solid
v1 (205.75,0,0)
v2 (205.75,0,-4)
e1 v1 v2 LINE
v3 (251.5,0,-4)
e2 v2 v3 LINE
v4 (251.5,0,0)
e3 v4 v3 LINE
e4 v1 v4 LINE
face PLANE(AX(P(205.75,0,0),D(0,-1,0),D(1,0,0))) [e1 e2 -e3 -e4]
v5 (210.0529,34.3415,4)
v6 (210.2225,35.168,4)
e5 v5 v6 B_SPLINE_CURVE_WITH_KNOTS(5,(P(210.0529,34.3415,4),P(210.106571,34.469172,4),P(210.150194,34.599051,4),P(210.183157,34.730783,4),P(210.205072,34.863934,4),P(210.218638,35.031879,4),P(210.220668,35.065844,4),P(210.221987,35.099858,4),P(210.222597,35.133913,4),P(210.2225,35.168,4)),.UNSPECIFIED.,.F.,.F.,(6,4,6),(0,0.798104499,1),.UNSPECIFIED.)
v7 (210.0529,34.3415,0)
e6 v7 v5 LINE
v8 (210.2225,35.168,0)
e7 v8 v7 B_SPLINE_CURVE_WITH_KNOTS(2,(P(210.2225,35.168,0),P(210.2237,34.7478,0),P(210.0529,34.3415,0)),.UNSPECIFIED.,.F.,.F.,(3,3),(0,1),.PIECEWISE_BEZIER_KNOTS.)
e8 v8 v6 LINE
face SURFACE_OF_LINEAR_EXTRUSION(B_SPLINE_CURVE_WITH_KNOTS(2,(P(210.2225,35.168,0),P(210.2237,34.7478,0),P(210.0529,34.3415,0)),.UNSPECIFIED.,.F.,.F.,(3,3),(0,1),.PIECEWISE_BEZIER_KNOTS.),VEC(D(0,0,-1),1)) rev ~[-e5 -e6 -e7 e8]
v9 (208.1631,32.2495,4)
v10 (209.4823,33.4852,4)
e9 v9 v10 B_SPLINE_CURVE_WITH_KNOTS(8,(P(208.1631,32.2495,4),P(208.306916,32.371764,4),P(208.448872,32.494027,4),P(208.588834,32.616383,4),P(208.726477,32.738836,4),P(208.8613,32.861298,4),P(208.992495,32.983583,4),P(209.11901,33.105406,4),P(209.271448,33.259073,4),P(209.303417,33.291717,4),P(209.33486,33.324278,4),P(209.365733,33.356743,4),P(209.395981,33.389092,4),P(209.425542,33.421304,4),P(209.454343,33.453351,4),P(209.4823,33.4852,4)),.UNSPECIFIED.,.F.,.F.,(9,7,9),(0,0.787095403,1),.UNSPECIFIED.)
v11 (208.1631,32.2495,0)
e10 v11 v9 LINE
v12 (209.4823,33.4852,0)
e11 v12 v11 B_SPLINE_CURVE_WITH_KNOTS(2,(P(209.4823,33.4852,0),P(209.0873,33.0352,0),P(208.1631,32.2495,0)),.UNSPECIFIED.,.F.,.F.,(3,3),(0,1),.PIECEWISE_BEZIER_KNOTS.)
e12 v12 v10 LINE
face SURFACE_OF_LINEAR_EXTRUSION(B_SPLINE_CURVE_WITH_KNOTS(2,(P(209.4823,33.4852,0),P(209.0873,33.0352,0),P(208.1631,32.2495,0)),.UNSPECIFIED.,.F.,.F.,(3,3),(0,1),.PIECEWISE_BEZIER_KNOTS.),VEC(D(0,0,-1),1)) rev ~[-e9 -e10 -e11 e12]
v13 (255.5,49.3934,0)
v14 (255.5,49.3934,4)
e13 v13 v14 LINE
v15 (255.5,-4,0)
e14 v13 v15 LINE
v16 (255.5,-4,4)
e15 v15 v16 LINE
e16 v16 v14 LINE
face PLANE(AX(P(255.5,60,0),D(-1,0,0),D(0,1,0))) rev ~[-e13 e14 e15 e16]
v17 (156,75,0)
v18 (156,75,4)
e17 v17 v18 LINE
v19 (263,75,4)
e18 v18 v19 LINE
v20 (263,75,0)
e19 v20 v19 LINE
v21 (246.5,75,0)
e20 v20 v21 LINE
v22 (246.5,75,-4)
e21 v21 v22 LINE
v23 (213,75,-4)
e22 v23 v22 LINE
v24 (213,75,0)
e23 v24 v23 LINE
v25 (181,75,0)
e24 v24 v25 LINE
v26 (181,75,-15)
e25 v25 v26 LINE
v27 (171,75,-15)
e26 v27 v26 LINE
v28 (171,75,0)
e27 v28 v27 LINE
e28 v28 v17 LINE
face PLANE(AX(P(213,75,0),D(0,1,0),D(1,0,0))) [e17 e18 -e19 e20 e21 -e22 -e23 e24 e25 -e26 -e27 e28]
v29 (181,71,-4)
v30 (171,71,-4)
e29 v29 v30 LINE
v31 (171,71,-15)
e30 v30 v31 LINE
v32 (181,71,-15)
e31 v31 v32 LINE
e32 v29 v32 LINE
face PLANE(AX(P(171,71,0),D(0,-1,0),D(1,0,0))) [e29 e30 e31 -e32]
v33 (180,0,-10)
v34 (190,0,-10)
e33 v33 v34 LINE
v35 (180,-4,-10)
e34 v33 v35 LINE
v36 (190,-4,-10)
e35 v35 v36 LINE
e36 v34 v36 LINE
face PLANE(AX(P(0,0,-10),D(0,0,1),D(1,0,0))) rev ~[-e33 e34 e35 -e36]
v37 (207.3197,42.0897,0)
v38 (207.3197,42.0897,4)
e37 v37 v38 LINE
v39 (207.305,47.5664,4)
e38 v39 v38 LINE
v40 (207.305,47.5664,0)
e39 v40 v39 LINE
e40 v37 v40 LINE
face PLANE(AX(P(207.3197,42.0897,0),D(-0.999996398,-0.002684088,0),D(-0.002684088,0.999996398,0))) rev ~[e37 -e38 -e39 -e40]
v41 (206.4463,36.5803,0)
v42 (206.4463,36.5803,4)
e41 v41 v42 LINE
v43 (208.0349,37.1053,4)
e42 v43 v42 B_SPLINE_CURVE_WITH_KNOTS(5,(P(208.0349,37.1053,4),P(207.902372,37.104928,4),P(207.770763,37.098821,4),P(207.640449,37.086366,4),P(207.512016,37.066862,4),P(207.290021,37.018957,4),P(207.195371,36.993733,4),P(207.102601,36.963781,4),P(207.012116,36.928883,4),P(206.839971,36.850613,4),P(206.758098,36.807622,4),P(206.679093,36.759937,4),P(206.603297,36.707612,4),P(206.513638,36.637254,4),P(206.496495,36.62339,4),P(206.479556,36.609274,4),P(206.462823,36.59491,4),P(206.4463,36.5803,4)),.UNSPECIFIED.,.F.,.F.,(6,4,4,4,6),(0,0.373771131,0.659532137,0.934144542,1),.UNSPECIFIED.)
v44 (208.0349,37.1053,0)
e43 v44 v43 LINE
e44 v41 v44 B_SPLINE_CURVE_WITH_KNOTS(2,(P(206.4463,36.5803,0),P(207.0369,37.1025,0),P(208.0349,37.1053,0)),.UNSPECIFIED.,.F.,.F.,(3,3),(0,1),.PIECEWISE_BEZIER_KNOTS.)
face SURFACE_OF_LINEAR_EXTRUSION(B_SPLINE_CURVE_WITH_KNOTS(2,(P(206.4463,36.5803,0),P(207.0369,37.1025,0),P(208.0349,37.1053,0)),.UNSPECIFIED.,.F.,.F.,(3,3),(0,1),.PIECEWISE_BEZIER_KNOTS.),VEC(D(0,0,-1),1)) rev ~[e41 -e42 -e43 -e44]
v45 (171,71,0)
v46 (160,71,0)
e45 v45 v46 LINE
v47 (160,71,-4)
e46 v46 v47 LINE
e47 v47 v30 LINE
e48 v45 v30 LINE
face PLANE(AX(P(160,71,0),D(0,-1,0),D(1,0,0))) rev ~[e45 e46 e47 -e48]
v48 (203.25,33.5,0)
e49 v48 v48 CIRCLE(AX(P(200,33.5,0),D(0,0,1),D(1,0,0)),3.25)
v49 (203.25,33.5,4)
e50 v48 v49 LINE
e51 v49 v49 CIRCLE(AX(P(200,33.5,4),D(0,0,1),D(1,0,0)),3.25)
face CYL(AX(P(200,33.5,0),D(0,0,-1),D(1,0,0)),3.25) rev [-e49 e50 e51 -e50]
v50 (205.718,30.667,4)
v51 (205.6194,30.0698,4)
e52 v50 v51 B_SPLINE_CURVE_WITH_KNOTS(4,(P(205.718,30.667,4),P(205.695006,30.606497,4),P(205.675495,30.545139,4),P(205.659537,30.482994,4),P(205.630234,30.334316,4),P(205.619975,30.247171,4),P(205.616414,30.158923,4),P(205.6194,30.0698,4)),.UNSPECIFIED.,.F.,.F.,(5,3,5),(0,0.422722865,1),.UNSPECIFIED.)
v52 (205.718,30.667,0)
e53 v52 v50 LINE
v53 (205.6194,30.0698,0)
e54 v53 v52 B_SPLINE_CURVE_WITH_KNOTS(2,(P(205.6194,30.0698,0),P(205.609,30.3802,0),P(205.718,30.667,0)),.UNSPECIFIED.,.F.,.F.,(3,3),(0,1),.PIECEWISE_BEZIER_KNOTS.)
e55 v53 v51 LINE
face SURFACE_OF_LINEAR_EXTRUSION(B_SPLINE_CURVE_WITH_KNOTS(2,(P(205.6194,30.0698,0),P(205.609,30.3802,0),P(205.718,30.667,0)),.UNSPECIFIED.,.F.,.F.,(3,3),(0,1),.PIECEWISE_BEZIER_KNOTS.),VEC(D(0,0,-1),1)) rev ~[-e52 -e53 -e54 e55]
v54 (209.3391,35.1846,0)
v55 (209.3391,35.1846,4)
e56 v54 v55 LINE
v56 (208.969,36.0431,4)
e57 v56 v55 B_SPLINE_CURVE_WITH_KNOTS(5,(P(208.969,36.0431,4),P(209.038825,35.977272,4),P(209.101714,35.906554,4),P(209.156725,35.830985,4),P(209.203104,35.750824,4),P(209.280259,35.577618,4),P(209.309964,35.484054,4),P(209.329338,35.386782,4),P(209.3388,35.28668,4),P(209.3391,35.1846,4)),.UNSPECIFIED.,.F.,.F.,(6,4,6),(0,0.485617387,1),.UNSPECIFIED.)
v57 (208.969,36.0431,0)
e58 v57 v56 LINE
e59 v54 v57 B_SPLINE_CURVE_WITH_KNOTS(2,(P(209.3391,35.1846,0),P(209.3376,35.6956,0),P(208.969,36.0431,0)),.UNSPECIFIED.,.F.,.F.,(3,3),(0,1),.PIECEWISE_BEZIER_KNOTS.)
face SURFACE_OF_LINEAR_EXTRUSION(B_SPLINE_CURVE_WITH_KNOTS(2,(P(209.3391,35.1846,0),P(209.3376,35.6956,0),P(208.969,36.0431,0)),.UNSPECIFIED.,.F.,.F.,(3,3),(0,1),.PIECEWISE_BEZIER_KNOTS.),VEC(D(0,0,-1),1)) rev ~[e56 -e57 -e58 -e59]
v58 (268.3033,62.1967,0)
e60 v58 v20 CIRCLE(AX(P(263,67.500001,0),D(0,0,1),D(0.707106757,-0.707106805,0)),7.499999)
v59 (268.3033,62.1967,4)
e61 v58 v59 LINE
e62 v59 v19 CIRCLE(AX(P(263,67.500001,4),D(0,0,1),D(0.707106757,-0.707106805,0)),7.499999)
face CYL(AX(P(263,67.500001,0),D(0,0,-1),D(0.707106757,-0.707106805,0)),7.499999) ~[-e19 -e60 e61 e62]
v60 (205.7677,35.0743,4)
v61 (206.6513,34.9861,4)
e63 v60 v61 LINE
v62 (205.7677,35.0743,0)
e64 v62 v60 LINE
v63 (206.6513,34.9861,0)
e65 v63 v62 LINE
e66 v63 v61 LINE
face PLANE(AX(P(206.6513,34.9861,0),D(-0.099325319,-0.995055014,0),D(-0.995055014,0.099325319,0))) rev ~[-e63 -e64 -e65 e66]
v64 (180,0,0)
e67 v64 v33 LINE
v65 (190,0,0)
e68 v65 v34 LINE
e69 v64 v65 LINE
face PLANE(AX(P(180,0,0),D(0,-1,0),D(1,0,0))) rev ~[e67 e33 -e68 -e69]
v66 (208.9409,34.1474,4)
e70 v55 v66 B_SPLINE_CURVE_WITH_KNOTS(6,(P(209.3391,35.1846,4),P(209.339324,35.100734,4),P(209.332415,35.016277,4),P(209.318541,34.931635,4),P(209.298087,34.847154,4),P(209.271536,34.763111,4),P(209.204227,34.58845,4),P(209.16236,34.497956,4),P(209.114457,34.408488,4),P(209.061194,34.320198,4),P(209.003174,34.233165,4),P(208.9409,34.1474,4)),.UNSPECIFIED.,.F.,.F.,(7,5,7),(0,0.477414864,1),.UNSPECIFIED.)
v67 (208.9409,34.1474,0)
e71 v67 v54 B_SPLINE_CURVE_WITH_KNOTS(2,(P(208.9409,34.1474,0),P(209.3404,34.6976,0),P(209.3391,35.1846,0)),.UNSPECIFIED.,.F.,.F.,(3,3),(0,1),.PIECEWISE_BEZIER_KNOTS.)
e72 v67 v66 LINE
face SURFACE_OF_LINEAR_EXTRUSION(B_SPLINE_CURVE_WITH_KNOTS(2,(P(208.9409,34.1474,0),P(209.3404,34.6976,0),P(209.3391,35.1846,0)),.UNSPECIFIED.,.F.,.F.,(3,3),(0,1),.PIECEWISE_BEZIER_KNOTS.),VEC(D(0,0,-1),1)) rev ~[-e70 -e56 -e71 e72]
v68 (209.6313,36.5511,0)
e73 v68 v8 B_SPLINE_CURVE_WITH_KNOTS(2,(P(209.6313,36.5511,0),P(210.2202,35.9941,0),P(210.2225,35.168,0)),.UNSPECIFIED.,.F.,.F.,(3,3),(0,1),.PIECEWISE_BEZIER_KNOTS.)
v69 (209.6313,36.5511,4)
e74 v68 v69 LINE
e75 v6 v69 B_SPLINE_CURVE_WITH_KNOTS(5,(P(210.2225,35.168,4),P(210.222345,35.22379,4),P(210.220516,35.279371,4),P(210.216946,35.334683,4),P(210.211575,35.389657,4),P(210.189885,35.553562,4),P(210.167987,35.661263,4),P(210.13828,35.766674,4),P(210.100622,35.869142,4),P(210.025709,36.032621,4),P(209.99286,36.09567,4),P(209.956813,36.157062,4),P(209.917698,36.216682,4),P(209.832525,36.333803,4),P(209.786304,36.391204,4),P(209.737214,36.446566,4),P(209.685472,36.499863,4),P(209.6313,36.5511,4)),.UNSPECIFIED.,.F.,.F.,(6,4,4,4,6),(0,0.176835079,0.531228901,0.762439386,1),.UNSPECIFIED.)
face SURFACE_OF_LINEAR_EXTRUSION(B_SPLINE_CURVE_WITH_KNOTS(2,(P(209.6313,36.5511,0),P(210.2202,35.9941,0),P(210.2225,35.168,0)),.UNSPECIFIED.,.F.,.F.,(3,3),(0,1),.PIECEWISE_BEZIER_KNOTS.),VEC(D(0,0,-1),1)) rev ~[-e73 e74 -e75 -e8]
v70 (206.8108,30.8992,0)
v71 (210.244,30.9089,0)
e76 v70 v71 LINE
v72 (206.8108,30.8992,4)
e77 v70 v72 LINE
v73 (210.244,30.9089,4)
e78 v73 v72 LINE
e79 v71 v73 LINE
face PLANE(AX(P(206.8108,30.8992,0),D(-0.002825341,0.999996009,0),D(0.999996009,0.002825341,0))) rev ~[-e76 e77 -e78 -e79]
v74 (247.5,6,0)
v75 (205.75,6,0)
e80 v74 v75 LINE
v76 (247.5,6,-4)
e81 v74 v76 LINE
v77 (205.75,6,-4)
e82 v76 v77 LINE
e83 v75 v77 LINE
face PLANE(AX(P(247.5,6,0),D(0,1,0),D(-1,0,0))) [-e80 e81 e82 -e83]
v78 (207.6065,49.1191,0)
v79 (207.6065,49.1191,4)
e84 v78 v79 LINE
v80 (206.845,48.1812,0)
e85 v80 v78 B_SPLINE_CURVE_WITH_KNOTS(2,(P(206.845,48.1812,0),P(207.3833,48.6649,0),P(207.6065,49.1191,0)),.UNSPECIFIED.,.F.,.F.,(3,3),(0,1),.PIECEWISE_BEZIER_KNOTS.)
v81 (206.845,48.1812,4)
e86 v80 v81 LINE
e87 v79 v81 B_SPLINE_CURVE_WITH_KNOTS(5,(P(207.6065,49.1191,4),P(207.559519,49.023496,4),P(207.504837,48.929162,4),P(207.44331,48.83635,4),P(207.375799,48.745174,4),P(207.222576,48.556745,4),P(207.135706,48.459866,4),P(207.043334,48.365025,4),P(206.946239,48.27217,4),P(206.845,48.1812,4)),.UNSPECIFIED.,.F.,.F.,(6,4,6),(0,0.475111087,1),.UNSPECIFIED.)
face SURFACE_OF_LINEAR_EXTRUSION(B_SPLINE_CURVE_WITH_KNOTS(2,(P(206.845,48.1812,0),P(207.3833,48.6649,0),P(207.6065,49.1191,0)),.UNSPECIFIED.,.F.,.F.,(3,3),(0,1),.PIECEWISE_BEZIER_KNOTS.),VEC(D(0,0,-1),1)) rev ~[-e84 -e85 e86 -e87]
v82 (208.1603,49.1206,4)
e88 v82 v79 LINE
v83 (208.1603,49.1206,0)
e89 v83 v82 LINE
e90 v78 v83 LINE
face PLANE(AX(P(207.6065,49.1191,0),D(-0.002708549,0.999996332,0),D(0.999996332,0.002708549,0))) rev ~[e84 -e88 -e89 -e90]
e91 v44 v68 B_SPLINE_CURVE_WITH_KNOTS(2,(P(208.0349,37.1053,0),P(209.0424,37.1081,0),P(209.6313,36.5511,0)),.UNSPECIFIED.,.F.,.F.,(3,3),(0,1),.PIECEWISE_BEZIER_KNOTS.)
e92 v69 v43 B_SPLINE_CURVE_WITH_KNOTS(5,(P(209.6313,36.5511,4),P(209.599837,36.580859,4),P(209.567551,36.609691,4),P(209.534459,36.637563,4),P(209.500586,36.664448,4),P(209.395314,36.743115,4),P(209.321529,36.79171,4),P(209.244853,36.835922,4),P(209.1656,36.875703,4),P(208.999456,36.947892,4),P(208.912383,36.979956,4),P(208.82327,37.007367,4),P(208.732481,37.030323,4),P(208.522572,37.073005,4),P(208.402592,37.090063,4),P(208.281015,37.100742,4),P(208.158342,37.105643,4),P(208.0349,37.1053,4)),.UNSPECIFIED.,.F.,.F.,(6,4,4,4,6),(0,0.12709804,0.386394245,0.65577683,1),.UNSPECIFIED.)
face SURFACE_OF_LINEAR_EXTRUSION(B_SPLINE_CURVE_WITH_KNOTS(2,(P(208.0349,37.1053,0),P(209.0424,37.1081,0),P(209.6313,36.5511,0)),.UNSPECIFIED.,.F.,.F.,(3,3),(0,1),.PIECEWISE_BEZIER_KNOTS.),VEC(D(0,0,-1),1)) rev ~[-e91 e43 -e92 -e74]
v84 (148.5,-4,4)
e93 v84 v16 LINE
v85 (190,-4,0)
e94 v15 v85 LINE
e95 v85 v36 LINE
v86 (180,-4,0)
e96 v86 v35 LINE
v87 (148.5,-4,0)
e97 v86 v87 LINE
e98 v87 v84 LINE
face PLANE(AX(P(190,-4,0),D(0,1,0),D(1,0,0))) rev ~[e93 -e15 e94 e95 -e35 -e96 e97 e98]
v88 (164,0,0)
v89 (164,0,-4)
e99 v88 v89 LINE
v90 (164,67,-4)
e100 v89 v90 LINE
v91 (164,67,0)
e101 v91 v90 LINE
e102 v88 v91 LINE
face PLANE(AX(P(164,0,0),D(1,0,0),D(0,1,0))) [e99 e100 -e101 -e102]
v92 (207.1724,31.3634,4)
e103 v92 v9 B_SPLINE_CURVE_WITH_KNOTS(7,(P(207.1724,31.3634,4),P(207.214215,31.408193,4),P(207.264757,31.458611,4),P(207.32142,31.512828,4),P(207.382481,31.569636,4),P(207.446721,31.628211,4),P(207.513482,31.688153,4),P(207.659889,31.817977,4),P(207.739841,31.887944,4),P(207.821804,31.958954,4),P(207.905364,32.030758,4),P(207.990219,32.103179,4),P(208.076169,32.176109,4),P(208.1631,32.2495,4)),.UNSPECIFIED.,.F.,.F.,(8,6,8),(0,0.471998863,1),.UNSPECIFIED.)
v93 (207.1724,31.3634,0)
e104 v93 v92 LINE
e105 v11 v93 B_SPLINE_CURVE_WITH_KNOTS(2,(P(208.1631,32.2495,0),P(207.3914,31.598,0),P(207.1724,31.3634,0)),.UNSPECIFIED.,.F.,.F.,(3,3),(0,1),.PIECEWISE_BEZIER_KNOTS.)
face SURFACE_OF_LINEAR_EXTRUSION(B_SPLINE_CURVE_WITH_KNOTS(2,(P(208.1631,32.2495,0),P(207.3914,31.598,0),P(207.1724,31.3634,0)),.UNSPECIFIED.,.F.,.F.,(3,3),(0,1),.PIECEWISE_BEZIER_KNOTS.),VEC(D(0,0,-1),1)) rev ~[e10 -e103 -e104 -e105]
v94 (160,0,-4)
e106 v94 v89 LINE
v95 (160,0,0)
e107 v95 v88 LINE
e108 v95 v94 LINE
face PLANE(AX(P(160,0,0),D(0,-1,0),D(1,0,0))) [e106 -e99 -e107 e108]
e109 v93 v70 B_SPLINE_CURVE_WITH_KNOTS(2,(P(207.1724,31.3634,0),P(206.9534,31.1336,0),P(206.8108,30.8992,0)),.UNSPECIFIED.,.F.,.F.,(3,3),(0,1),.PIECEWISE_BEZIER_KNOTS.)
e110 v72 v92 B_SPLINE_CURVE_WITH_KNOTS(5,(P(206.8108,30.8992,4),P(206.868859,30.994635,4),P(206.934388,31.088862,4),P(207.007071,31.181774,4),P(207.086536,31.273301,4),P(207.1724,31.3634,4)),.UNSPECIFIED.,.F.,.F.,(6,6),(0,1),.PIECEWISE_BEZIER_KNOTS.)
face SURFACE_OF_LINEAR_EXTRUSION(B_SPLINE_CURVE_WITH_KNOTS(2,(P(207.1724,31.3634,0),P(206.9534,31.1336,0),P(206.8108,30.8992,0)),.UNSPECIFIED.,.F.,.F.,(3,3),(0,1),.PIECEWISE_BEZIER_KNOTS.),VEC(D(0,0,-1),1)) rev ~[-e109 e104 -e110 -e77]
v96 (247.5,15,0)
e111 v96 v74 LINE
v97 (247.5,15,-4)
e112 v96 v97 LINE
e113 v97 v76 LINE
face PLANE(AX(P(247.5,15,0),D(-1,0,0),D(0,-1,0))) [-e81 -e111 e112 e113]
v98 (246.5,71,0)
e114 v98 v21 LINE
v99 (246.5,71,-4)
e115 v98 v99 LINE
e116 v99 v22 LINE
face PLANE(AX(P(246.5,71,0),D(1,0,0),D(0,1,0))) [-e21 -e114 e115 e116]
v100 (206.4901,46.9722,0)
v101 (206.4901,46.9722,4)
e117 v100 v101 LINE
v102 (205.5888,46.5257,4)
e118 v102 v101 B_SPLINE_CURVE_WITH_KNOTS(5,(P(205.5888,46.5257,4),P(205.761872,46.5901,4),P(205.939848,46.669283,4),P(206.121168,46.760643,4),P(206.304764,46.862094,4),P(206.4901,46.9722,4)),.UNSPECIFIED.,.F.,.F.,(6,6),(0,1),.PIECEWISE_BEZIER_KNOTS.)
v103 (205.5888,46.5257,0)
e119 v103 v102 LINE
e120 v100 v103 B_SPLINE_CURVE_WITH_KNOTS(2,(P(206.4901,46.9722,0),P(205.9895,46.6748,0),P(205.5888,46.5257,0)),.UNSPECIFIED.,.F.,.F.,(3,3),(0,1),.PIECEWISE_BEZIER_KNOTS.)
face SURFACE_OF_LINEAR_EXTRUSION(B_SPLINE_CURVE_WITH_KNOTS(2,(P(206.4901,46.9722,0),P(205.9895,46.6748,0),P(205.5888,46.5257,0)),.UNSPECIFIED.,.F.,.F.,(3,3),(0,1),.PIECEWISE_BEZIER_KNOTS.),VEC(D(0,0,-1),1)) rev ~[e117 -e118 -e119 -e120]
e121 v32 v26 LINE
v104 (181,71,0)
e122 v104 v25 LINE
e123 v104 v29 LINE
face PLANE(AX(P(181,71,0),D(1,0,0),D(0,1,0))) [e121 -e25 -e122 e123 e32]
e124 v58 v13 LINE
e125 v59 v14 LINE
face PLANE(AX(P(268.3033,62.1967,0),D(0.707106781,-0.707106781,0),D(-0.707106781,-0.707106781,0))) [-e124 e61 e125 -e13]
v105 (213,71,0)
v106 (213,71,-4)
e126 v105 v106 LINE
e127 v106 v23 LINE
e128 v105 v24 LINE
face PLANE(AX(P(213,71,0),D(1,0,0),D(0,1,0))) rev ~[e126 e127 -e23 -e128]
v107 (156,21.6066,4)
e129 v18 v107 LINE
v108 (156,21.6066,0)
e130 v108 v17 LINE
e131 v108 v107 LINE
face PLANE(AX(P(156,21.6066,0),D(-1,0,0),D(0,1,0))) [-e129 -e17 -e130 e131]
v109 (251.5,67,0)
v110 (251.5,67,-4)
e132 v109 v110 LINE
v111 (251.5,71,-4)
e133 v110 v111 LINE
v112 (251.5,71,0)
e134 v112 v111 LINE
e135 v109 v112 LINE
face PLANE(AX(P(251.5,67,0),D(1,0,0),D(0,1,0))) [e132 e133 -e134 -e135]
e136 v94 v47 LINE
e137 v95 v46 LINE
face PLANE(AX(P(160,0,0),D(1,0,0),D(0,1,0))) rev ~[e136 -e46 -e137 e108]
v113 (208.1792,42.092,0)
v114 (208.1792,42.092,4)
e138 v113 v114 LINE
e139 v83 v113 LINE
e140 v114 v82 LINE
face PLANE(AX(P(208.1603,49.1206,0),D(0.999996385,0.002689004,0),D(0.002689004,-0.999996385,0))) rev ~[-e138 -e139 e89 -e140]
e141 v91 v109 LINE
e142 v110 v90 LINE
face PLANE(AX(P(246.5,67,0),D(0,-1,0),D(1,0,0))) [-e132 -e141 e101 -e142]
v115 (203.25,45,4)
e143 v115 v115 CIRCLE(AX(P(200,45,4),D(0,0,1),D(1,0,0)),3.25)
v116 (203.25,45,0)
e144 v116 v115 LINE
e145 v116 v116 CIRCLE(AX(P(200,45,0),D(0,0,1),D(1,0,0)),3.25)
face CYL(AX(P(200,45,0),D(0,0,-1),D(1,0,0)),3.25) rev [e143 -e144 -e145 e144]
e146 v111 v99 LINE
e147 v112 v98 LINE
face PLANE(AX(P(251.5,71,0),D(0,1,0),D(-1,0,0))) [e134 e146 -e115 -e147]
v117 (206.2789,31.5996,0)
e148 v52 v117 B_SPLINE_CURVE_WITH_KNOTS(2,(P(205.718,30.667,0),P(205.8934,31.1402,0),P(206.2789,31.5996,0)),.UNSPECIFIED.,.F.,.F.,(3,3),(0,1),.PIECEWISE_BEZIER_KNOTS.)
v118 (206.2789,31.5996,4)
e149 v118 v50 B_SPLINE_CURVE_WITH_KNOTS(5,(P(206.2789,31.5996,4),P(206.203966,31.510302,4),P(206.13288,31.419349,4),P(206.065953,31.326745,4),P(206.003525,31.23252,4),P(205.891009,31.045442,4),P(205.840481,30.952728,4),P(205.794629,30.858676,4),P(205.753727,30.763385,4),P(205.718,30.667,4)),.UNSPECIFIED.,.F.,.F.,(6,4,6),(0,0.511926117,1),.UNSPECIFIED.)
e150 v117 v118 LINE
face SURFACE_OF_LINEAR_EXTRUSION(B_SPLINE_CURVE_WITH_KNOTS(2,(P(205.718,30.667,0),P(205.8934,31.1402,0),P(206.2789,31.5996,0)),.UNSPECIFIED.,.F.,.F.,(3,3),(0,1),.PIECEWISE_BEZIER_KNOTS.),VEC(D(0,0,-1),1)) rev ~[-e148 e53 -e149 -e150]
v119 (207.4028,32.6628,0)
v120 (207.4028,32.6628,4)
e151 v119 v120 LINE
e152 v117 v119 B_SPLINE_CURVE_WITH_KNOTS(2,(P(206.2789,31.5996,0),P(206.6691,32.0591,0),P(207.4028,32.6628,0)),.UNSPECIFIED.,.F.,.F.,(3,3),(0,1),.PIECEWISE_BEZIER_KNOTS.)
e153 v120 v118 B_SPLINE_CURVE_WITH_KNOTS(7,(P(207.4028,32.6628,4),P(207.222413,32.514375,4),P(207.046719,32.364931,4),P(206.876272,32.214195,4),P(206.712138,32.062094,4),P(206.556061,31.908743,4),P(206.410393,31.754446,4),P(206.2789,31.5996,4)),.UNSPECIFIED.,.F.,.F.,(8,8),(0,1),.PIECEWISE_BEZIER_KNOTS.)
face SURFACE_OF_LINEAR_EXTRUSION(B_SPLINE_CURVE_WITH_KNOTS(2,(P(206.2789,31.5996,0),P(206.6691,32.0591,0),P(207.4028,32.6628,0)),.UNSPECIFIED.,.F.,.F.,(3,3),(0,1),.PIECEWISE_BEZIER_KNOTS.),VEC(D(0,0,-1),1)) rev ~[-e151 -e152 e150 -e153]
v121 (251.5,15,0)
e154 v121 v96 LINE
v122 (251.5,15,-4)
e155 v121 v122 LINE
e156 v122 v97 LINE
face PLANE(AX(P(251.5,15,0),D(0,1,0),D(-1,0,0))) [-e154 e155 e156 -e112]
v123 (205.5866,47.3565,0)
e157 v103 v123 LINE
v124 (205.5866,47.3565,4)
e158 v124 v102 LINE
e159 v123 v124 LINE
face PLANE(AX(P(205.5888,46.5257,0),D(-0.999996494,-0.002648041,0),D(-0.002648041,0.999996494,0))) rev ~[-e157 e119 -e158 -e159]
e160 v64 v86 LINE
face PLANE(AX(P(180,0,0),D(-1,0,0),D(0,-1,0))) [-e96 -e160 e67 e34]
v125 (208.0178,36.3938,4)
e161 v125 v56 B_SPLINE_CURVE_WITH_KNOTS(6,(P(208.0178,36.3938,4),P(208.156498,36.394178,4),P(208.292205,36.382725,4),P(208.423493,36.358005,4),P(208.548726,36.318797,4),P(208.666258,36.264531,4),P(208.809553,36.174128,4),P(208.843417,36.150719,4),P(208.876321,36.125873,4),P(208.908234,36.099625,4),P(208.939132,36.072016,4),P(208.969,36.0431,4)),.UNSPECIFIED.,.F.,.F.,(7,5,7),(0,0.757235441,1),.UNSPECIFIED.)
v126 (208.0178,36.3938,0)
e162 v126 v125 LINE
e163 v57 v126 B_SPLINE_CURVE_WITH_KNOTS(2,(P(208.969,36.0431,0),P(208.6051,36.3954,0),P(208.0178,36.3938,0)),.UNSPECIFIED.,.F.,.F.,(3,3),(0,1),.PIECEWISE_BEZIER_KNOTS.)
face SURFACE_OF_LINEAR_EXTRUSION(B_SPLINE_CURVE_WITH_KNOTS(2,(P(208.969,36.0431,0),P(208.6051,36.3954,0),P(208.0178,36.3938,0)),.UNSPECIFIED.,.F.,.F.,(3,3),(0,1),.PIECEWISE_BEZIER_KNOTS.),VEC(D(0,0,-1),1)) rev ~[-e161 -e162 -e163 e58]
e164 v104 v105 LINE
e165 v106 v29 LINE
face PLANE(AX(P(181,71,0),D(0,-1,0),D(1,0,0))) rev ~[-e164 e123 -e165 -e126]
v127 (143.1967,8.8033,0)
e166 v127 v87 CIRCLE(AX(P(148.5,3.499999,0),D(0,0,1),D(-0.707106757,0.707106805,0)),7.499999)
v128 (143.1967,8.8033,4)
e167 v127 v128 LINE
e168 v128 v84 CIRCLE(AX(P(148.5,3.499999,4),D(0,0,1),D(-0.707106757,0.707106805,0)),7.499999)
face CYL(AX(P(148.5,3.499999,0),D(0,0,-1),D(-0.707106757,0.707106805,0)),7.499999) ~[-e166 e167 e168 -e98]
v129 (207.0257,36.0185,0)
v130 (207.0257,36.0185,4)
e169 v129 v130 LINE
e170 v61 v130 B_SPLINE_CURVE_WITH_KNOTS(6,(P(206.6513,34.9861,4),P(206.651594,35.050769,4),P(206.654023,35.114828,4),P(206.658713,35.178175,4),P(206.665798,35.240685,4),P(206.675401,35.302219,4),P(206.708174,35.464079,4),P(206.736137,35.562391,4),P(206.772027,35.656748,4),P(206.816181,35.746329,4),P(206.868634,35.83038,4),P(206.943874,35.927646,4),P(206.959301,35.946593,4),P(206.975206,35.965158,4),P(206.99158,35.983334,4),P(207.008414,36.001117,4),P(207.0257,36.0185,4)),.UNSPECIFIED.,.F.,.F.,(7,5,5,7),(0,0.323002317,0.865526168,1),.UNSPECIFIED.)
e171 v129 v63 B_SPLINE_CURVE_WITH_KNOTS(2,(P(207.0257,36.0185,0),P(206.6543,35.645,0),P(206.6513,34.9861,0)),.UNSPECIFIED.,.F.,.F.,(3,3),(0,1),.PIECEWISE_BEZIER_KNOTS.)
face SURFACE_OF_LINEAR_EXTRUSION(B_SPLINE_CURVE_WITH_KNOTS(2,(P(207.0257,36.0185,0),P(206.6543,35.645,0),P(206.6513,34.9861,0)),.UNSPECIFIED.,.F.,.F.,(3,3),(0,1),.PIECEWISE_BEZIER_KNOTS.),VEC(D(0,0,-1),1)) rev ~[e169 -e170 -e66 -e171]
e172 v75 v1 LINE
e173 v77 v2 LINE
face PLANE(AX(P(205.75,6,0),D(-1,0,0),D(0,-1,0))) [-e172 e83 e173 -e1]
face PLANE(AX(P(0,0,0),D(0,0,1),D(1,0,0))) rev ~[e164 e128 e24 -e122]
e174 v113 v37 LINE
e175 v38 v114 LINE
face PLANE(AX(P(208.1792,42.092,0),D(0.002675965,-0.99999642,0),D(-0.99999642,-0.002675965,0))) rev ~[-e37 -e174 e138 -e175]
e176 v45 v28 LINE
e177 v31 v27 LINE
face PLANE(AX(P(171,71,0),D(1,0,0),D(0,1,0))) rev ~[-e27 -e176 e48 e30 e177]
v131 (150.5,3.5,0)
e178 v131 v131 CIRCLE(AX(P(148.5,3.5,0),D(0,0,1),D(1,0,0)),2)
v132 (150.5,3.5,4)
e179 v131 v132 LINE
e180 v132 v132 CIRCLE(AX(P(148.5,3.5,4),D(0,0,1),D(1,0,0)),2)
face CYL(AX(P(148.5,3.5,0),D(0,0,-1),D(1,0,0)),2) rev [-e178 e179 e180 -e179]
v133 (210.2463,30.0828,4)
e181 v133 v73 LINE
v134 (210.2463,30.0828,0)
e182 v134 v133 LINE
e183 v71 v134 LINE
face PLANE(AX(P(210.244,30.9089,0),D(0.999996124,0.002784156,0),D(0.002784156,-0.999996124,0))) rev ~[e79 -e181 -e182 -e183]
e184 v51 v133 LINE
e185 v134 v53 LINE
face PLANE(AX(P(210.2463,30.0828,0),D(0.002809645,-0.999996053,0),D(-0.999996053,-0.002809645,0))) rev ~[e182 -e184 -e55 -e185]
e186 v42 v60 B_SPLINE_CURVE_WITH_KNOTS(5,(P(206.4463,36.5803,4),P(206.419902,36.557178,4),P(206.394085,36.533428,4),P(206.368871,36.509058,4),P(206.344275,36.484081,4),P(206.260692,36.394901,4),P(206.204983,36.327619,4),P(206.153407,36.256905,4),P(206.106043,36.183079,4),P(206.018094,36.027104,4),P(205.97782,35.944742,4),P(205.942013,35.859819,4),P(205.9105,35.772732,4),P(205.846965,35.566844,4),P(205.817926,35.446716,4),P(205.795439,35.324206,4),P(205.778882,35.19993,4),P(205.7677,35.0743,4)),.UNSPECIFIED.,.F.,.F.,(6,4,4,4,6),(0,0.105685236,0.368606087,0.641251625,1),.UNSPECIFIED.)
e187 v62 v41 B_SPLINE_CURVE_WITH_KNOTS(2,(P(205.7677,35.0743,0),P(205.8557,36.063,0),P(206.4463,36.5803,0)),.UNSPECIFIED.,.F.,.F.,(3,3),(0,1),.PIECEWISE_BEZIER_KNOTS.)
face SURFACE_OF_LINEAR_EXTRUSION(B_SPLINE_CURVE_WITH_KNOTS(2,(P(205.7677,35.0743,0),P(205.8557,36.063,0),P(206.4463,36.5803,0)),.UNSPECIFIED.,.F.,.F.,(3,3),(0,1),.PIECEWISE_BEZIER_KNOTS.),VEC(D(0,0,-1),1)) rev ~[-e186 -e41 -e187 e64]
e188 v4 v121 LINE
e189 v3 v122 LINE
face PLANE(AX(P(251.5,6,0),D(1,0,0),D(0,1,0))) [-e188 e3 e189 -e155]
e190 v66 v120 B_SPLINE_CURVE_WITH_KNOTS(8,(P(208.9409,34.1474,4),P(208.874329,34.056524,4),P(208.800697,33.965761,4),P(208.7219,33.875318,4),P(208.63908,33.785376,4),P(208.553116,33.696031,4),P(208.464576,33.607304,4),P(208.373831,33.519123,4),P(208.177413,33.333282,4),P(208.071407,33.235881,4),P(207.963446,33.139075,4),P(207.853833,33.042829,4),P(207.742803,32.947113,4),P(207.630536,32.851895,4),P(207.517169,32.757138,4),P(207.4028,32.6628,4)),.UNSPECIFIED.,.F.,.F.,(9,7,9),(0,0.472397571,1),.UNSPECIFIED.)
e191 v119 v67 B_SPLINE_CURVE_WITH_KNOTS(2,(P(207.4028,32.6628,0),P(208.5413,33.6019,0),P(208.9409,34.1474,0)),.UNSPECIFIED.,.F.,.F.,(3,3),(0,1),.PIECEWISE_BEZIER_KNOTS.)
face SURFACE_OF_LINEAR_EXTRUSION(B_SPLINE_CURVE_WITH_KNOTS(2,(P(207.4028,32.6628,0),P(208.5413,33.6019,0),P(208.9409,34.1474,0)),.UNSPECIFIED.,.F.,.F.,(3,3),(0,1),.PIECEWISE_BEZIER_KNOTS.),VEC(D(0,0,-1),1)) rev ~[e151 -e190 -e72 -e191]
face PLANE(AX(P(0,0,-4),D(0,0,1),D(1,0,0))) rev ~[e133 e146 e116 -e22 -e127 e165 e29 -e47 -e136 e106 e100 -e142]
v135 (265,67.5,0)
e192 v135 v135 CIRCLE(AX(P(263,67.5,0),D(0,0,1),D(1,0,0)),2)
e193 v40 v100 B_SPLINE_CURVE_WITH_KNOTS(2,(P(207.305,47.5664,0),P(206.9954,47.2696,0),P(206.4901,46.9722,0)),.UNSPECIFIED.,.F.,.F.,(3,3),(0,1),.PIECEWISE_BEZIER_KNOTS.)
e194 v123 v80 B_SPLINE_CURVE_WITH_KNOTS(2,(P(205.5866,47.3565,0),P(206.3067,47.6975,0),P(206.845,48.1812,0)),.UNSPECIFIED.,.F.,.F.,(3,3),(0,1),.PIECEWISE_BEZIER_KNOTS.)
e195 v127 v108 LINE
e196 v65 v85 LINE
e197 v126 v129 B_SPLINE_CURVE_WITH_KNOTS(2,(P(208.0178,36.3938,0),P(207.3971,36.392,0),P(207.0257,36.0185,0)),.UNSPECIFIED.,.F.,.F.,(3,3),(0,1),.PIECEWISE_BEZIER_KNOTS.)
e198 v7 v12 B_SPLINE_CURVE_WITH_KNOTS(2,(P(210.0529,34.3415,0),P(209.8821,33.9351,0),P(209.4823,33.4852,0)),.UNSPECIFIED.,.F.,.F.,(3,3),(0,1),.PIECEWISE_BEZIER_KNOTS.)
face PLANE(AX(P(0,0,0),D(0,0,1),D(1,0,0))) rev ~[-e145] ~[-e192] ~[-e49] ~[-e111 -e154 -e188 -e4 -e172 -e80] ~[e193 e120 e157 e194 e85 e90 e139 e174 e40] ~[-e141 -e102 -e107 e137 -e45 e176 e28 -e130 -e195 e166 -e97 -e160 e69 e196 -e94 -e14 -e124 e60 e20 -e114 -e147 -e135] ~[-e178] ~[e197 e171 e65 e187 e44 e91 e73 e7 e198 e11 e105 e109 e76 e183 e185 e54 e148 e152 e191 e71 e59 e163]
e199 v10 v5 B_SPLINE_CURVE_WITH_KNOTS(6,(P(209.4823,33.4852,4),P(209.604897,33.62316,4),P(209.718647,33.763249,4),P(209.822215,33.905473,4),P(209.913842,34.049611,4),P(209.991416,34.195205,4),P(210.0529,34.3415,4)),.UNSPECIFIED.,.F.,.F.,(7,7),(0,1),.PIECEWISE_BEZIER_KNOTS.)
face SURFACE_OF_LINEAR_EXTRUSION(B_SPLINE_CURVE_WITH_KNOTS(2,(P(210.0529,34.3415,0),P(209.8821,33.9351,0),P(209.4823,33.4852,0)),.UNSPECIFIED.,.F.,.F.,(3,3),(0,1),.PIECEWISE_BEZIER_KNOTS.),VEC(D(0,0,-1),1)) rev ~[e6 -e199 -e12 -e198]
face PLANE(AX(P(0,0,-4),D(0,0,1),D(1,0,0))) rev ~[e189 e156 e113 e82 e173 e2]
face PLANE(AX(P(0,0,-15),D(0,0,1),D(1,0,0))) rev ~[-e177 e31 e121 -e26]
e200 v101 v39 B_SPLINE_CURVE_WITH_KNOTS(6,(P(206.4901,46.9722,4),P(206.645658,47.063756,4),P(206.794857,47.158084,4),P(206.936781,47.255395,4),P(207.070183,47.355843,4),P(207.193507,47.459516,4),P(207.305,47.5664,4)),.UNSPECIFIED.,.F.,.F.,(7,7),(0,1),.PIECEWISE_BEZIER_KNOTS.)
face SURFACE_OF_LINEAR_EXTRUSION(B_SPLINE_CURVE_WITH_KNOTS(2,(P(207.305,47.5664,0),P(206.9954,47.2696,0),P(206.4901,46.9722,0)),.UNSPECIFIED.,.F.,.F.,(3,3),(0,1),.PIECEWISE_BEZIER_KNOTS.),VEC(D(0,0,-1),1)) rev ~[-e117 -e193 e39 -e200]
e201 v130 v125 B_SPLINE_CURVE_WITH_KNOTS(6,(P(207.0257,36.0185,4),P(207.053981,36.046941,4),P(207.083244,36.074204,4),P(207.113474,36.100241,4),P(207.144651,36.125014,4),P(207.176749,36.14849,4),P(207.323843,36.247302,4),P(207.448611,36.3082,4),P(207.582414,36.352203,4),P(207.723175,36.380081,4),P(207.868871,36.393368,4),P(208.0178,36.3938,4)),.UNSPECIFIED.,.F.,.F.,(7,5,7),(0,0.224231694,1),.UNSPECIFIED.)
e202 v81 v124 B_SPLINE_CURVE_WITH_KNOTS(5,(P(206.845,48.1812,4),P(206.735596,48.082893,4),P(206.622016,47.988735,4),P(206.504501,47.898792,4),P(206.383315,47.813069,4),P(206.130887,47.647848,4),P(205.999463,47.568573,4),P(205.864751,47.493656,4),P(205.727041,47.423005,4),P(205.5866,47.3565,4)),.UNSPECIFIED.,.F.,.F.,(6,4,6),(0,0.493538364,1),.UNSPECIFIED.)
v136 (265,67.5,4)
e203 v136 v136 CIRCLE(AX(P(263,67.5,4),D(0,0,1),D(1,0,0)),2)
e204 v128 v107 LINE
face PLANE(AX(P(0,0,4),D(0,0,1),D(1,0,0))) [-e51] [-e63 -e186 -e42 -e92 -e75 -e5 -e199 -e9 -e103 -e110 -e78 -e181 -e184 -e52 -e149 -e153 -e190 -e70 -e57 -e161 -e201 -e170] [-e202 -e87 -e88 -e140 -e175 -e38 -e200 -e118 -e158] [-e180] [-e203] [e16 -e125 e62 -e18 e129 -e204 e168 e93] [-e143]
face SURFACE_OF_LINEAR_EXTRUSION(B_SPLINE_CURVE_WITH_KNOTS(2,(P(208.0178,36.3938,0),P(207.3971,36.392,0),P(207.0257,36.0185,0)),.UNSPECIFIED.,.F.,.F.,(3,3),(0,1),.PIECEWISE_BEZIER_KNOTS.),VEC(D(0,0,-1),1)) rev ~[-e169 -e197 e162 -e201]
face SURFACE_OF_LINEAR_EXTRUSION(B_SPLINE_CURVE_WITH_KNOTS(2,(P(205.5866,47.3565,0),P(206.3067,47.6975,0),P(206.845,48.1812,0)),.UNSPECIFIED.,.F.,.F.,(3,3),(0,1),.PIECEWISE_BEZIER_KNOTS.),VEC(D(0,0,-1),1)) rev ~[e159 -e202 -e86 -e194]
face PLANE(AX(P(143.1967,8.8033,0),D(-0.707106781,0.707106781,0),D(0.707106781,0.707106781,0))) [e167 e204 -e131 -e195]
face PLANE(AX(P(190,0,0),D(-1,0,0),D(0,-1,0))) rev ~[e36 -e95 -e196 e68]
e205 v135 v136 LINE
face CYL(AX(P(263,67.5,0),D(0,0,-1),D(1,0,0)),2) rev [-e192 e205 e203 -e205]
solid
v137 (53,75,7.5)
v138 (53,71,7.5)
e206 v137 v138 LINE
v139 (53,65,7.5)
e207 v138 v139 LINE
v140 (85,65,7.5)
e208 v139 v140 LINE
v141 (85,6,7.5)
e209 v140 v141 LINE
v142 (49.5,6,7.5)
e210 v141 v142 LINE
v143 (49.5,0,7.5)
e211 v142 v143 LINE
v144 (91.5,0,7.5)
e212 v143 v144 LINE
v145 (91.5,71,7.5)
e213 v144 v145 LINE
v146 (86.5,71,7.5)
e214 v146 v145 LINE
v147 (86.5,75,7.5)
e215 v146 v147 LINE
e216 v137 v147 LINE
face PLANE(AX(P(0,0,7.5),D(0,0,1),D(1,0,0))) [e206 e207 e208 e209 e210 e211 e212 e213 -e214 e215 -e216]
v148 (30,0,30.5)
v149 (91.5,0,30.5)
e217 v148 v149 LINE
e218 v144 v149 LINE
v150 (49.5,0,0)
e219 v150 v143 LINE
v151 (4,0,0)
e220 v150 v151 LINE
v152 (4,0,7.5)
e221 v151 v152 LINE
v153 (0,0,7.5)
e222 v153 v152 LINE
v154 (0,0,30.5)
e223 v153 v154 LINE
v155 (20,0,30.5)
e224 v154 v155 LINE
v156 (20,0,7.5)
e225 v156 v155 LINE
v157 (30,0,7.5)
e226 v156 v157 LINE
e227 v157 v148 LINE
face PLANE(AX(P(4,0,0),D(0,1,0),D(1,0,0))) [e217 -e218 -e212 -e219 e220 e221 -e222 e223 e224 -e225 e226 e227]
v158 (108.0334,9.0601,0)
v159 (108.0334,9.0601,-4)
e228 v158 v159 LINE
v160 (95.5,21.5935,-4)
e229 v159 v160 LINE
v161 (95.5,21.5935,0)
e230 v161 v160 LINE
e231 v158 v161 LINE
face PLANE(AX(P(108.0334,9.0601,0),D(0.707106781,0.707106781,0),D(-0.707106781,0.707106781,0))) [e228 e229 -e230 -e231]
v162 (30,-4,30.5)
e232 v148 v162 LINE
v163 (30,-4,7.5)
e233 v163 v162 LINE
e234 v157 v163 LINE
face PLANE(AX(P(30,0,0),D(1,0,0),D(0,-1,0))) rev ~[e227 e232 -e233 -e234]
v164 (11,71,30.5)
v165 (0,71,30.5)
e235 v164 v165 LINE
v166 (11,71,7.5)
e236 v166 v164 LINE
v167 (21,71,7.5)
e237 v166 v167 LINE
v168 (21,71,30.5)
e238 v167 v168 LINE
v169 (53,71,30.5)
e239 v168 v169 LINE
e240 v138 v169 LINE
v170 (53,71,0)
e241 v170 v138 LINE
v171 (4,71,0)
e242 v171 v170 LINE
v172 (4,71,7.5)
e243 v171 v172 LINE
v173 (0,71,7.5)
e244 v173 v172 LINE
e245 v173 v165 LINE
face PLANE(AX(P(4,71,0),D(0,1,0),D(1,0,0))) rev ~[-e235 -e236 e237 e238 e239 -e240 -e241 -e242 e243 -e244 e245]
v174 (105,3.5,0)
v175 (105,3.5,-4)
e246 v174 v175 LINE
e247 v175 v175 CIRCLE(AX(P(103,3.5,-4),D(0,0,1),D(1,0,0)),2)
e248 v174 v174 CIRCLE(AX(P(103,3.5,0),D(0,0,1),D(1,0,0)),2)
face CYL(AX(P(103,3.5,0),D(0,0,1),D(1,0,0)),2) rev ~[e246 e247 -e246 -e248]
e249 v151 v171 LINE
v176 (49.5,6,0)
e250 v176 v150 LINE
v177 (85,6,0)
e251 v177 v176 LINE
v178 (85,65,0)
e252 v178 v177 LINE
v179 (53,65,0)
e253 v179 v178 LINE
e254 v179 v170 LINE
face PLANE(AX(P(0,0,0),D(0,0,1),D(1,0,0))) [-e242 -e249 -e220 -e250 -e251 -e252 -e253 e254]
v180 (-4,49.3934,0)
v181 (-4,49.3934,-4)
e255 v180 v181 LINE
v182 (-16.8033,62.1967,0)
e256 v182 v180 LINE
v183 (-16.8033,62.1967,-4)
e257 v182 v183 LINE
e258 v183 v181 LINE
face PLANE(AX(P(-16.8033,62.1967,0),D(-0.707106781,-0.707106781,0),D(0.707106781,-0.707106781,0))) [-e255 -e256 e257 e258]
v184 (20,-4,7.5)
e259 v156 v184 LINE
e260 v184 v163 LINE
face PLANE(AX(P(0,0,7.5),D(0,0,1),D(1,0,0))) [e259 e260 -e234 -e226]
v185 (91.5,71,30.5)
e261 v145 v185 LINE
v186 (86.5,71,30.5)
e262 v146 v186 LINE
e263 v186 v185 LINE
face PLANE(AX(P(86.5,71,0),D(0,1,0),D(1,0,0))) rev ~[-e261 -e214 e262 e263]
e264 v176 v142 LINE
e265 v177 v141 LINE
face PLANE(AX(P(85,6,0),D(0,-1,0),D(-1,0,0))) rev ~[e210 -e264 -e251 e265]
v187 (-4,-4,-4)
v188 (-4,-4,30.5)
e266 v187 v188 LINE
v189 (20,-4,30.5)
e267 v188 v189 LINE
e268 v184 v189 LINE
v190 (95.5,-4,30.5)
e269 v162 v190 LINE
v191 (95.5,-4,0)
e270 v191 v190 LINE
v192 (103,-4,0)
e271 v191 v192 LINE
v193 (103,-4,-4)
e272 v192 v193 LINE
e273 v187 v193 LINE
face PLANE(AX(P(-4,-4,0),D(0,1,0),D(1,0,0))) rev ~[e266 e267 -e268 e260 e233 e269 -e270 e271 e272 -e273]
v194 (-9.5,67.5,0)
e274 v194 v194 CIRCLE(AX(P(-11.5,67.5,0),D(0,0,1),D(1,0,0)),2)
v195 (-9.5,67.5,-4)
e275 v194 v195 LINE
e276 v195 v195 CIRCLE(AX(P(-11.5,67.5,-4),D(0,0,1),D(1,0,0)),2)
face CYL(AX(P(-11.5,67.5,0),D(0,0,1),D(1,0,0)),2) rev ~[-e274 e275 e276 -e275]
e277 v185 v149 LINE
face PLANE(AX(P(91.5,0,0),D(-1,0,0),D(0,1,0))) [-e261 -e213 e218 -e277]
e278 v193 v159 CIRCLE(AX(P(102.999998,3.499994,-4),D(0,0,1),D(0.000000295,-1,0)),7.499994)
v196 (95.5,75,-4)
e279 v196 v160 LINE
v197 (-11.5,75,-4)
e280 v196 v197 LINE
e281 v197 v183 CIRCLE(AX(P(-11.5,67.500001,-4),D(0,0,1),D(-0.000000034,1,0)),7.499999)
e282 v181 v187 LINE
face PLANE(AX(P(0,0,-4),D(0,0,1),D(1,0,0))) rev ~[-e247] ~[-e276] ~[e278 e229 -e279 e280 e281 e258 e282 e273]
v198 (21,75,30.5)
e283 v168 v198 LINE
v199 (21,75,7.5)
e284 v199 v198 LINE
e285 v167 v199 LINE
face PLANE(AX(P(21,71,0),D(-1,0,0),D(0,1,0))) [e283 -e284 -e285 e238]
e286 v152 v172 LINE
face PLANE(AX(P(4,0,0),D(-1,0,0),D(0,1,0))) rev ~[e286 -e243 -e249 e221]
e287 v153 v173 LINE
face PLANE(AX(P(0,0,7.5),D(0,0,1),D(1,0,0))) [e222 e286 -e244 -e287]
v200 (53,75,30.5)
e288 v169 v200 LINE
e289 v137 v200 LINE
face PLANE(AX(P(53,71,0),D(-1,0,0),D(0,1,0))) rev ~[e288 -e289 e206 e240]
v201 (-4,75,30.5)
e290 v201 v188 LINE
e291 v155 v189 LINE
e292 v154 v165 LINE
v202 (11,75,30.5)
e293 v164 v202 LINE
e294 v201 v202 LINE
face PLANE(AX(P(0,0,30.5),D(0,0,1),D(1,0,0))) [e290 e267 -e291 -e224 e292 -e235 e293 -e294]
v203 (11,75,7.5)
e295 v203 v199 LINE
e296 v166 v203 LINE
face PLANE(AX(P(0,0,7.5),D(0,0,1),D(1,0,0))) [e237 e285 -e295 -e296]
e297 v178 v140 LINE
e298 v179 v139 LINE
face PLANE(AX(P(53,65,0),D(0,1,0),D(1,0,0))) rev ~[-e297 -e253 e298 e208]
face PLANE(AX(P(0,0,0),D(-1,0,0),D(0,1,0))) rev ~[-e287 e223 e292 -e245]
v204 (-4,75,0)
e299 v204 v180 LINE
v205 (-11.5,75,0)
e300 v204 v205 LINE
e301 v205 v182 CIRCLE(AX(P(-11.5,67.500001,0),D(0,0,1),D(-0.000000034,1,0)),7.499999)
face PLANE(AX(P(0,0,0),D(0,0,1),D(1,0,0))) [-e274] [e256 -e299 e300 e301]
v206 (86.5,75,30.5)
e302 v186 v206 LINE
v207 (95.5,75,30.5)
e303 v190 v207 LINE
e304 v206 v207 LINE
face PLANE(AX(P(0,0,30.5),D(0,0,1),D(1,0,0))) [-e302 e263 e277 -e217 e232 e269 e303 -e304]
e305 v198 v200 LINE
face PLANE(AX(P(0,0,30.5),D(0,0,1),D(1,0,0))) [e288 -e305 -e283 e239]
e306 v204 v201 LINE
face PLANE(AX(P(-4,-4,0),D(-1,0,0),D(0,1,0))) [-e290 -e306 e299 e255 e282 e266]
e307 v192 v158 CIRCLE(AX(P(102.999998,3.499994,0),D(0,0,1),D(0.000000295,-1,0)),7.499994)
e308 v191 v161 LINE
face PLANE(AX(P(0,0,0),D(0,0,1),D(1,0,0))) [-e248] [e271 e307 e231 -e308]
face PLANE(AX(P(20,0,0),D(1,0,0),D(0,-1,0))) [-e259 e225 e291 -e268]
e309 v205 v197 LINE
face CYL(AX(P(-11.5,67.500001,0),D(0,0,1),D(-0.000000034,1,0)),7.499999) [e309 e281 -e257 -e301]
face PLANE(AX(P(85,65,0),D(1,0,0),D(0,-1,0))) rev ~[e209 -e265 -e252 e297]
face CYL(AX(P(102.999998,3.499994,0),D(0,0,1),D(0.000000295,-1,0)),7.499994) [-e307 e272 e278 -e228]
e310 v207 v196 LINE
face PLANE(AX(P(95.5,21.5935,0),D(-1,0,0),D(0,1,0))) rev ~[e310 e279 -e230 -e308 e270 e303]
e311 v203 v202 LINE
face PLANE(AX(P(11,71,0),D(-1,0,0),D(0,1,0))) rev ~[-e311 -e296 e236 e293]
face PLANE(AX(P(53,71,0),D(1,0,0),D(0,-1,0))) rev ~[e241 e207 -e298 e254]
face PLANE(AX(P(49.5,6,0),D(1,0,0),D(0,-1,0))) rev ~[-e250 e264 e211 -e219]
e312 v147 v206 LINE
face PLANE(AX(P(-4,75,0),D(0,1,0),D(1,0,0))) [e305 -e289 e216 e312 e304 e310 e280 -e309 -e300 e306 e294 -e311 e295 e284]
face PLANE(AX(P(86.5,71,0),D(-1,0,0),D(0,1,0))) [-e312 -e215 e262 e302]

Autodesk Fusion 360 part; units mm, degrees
sketch "Sketch1" plane through (0, 0, 0) normal (0, 0, 1) x (1, 0, 0)
  line L0 (0, 0) -> (91.5, 0)
  line L1 (91.5, 0) -> (91.5, 71)
  line L2 (0, 0) -> (0, 71)
  line L3 (0, 71) -> (91.5, 71)
  line L4 (95.5, -4) -> (95.5, 75)
  line L5 (-4, 75) -> (95.5, 75)
  line L6 (-4, -4) -> (-4, 75)
  line L7 (-4, -4) -> (95.5, -4)
  line L8 (0, 0) -> (20, 0)
  line L9 (20, 0) -> (30, 0)
  line L10 (30, 0) -> (30, -4)
  line L11 (20, 0) -> (20, -4)
  line L12 (91.5, 71) -> (86.5, 71)
  line L13 (86.5, 71) -> (86.5, 75)
  line L14 (86.5, 71) -> (53, 71)
  line L15 (53, 71) -> (53, 75)
  line L16 (53, 71) -> (53, 65)
  line L17 (53, 65) -> (85, 65)
  line L18 (85, 65) -> (85, 6)
  line L19 (91.5, 0) -> (91.5, 6)
  line L20 (85, 6) -> (49.5, 6)
  line L21 (49.5, 6) -> (49.5, 0)
  line L22 (0, 0) -> (4, 0)
  line L23 (4, 0) -> (4, 71)
  line L24 (0, 71) -> (11, 71)
  line L25 (11, 71) -> (11, 75)
  line L26 (11, 71) -> (21, 71)
  line L27 (21, 71) -> (21, 75)
  line L28 (246.5, 71) -> (246.5, 75)
  line L29 (251.5, 0) -> (251.5, 71)
  line L30 (156, -4) -> (255.5, -4)
  line L31 (247.5, 6) -> (205.75, 6)
  line L32 (251.5, 0) -> (251.5, 15)
  line L33 (247.5, 15) -> (247.5, 6)
  circle A0 centre (200, 33.5) radius 3.25
  line L34 (160, 0) -> (160, 71)
  line L35 (213, 71) -> (213, 75)
  line L36 (255.5, -4) -> (255.5, 75)
  circle A1 centre (200, 45) radius 3.25
  line L37 (156, 75) -> (255.5, 75)
  line L38 (160, 0) -> (164, 0)
  line L39 (251.5, 0) -> (251.5, 6)
  line L40 (181, 71) -> (181, 75)
  line L41 (160, 0) -> (251.5, 0)
  line L42 (171, 71) -> (171, 75)
  line L43 (205.75, 6) -> (205.75, 0)
  line L44 (160, 0) -> (180, 0)
  line L45 (180, 0) -> (180, -4)
  line L46 (190, 0) -> (190, -4)
  line L47 (171, 71) -> (181, 71)
  line L48 (251.5, 15) -> (247.5, 15)
  line L49 (246.5, 67) -> (251.5, 67)
  line L50 (156, -4) -> (156, 75)
  line L51 (251.5, 71) -> (246.5, 71)
  line L52 (181, 67) -> (213, 67)
  line L53 (160, 71) -> (171, 71)
  line L54 (180, 0) -> (190, 0)
  line L55 (213, 67) -> (251.5, 67)
  line L56 (160, 71) -> (251.5, 71)
  line L57 (181, 67) -> (164, 67)
  line L58 (164, 0) -> (164, 71)
  line L59 (208.1792, 42.092) -> (207.3197, 42.0897)
  line L60 (207.3197, 42.0897) -> (207.305, 47.5664)
  spline S0 degree 2 poles (207.305, 47.5664) (206.9954, 47.2696) (206.4901, 46.9722) knots 0 0 0 1 1 1
  spline S1 degree 2 poles (206.4901, 46.9722) (205.9895, 46.6748) (205.5888, 46.5257) knots 0 0 0 1 1 1
  line L61 (205.5888, 46.5257) -> (205.5866, 47.3565)
  spline S2 degree 2 poles (205.5866, 47.3565) (206.3067, 47.6975) (206.845, 48.1812) knots 0 0 0 1 1 1
  spline S3 degree 2 poles (206.845, 48.1812) (207.3833, 48.6649) (207.6065, 49.1191) knots 0 0 0 1 1 1
  line L62 (207.6065, 49.1191) -> (208.1603, 49.1206)
  line L63 (208.1603, 49.1206) -> (208.1792, 42.092)
  line L64 (210.244, 30.9089) -> (210.2463, 30.0828)
  line L65 (210.2463, 30.0828) -> (205.6194, 30.0698)
  spline S4 degree 2 poles (205.6194, 30.0698) (205.609, 30.3802) (205.718, 30.667) knots 0 0 0 1 1 1
  spline S5 degree 2 poles (205.718, 30.667) (205.8934, 31.1402) (206.2789, 31.5996) knots 0 0 0 1 1 1
  spline S6 degree 2 poles (206.2789, 31.5996) (206.6691, 32.0591) (207.4028, 32.6628) knots 0 0 0 1 1 1
  spline S7 degree 2 poles (207.4028, 32.6628) (208.5413, 33.6019) (208.9409, 34.1474) knots 0 0 0 1 1 1
  spline S8 degree 2 poles (208.9409, 34.1474) (209.3404, 34.6976) (209.3391, 35.1846) knots 0 0 0 1 1 1
  spline S9 degree 2 poles (209.3391, 35.1846) (209.3376, 35.6956) (208.969, 36.0431) knots 0 0 0 1 1 1
  spline S10 degree 2 poles (208.969, 36.0431) (208.6051, 36.3954) (208.0178, 36.3938) knots 0 0 0 1 1 1
  spline S11 degree 2 poles (208.0178, 36.3938) (207.3971, 36.392) (207.0257, 36.0185) knots 0 0 0 1 1 1
  spline S12 degree 2 poles (207.0257, 36.0185) (206.6543, 35.645) (206.6513, 34.9861) knots 0 0 0 1 1 1
  line L66 (206.6513, 34.9861) -> (205.7677, 35.0743)
  spline S13 degree 2 poles (205.7677, 35.0743) (205.8557, 36.063) (206.4463, 36.5803) knots 0 0 0 1 1 1
  spline S14 degree 2 poles (206.4463, 36.5803) (207.0369, 37.1025) (208.0349, 37.1053) knots 0 0 0 1 1 1
  spline S15 degree 2 poles (208.0349, 37.1053) (209.0424, 37.1081) (209.6313, 36.5511) knots 0 0 0 1 1 1
  spline S16 degree 2 poles (209.6313, 36.5511) (210.2202, 35.9941) (210.2225, 35.168) knots 0 0 0 1 1 1
  spline S17 degree 2 poles (210.2225, 35.168) (210.2237, 34.7478) (210.0529, 34.3415) knots 0 0 0 1 1 1
  spline S18 degree 2 poles (210.0529, 34.3415) (209.8821, 33.9351) (209.4823, 33.4852) knots 0 0 0 1 1 1
  spline S19 degree 2 poles (209.4823, 33.4852) (209.0873, 33.0352) (208.1631, 32.2495) knots 0 0 0 1 1 1
  spline S20 degree 2 poles (208.1631, 32.2495) (207.3914, 31.598) (207.1724, 31.3634) knots 0 0 0 1 1 1
  spline S21 degree 2 poles (207.1724, 31.3634) (206.9534, 31.1336) (206.8108, 30.8992) knots 0 0 0 1 1 1
  line L67 (206.8108, 30.8992) -> (210.244, 30.9089)
  line L68 (156, -4) -> (156, 11)
  line L69 (156, -4) -> (148.5, -4)
  arc A2 (143.1967, 8.8033) -> (148.5, -4) centre (148.5, 3.5) ccw
  line L70 (143.1967, 8.8033) -> (156, 21.6066)
  line L71 (255.5, 75) -> (255.5, 60)
  line L72 (263, 75) -> (255.5, 75)
  arc A3 (268.3033, 62.1967) -> (263, 75) centre (263, 67.5) ccw
  line L73 (268.3033, 62.1967) -> (255.5, 49.3934)
  circle A4 centre (263, 67.5) radius 2
  circle A5 centre (148.5, 3.5) radius 2
  line L74 (95.5, -4) -> (95.5, 11)
  line L75 (108.0334, 9.0601) -> (95.5, 21.5935)
  arc A6 (103, -4) -> (108.0334, 9.0601) centre (103, 3.5) ccw
  line L76 (95.5, -4) -> (103, -4)
  circle A7 centre (103, 3.5) radius 2
  line L77 (-4, 75) -> (-4, 60)
  line L78 (-4, 75) -> (-11.5, 75)
  line L79 (-16.8033, 62.1967) -> (-4, 49.3934)
  arc A8 (-11.5, 75) -> (-16.8033, 62.1967) centre (-11.5, 67.5) ccw
  circle A9 centre (-11.5, 67.5) radius 2
  dimension "d1" = 91.5
  dimension "d3" = 71
  dimension "d16" = 79
  dimension "d17" = 99.5
  dimension "d18" = 20
  dimension "d19" = 10
  dimension "d20" = 5
  dimension "d21" = 4
  dimension "d22" = 33.5
  dimension "d24" = 42
  dimension "d25" = 4
  dimension "d34" = 11
  dimension "d35" = 10
  dimension "d83" = 91.5
  dimension "d84" = 71
  dimension "d85" = 79
  dimension "d86" = 99.5
  dimension "d87" = 20
  dimension "d88" = 10
  dimension "d89" = 5
  dimension "d90" = 4
  dimension "d91" = 33.5
  dimension "d92" = 4
  dimension "d93" = 11
  dimension "d94" = 10
  dimension "d95" = 15
  dimension "d96" = 4
  dimension "d97" = 4
  dimension "d98" = 4
  dimension "d99" = 6.5
  dimension "d100" = 6.5
  dimension "d121" = 15
  dimension "d123" = 15
  dimension "d124" = 15
  dimension "d126" = 15
  dimension "d127" = 4
  dimension "d128" = 4
  dimension "d131" = 15
  dimension "d133" = 15
  dimension "d134" = 4
  dimension "d135" = 15
  dimension "d137" = 4
  dimension "d138" = 7.5
extrude "Extrude1" add sketch "Sketch1" along normal blind 7.5 contours L0 L1 L3 L12 L14 L16 L17 L18 L19 L20 L21 makes body 1
extrude "Extrude2" add sketch "Sketch1" along normal blind 7.5 separate body contours L0 L2 L3 L8 L22 L23 L24 makes body 2
extrude "Extrude3" add sketch "Sketch1" along normal blind 7.5 separate body contours L0 L7 L9 L10 L11 makes body 3
extrude "Extrude4" add sketch "Sketch1" along normal blind 7.5 contours L3 L5 L13 L14 L15 bodies 1
extrude "Extrude5" add sketch "Sketch1" along normal blind 30.5 contours L0 L1 L3 L4 L5 L7 L10 L12 L13 L19 L74 bodies 1 3
extrude "Extrude6" add sketch "Sketch1" along normal blind 30.5 contours L3 L5 L15 L27 bodies 1
extrude "Extrude7" add sketch "Sketch1" along normal blind 7.5 contours L3 L5 L25 L26 L27 bodies 1
extrude "Extrude8" add sketch "Sketch1" along normal blind 30.5 contours L0 L2 L3 L5 L6 L7 L8 L11 L22 L24 L25 L77 bodies 1 2
extrude "Extrude9" add sketch "Sketch1" against normal blind 4 separate body contours L0 L2 L3 L8 L22 L23 L24 | L0 L2 L3 L5 L6 L7 L8 L11 L22 L24 L25 L77 | L0 L3 L8 L9 L16 L17 L18 L20 L21 L23 L24 L26 | L0 L7 L9 L10 L11 | L0 L1 L3 L4 L5 L7 L10 L12 L13 L19 L74 | L3 L5 L25 L26 L27 | L0 L1 L3 L12 L14 L16 L17 L18 L19 L20 L21 | L3 L5 L15 L27 | L3 L5 L13 L14 L15 makes body 4
combine "Combine1" operation add target body 1 tool bodies 4
extrude "Extrude19" add sketch "Sketch1" against normal blind 10 separate body contours L30 L41 L45 L46 L54 makes body 5
extrude "Extrude20" add sketch "Sketch1" against normal blind 15 separate body contours L37 L40 L42 L47 L56 makes body 6
extrude "Extrude21" add sketch "Sketch1" against normal blind 4 contours L28 L35 L37 L56 | L29 L47 L49 L51 L52 L53 L55 L56 L57 L58 bodies 6
extrude "Extrude22" add sketch "Sketch1" against normal blind 4 contours L34 L38 L41 L44 L53 L56 L58 bodies 6
extrude "Extrude23" add sketch "Sketch1" against normal blind 4 separate body contours L29 L31 L32 L33 L39 L41 L43 L48 makes body 7
extrude "Extrude24" add sketch "Sketch1" along normal blind 4 contours L28 L35 L37 L56 | L28 L29 L30 L32 L36 L37 L39 L41 L46 L51 L56 L71 | L29 L47 L49 L51 L52 L53 L55 L56 L57 L58 | L35 L37 L40 L56 | L29 L31 L33 L41 L43 L44 L48 L49 L52 L54 L55 L57 L58 | L37 L40 L42 L47 L56 | L29 L31 L32 L33 L39 L41 L43 L48 | L30 L34 L37 L38 L41 L42 L44 L45 L50 L53 L56 L68 | L34 L38 L41 L44 L53 L56 L58 | L30 L41 L45 L46 L54 | L59 L60 S0 S1 L61 S2 S3 L62 L63 | L64 L65 S4 S5 S6 S7 S8 S9 S10 S11 S12 L66 S13 S14 S15 S16 S17 S18 S19 S20 S21 L67 bodies 5 6 7
extrude "Extrude25" cut sketch "Sketch1" along normal blind 5 contours L59 L60 S0 S1 L61 S2 S3 L62 L63 | L64 L65 S4 S5 S6 S7 S8 S9 S10 S11 S12 L66 S13 S14 S15 S16 S17 S18 S19 S20 S21 L67 bodies 5
extrude "Extrude26" add sketch "Sketch1" along normal blind 4 contours L36 L71 L72 A3 L73 | L50 L68 L69 A2 L70 bodies 5
extrude "Extrude27" add sketch "Sketch1" against normal blind 4 contours L4 L74 L75 A6 L76 | L6 L77 L78 L79 A8 bodies 1
